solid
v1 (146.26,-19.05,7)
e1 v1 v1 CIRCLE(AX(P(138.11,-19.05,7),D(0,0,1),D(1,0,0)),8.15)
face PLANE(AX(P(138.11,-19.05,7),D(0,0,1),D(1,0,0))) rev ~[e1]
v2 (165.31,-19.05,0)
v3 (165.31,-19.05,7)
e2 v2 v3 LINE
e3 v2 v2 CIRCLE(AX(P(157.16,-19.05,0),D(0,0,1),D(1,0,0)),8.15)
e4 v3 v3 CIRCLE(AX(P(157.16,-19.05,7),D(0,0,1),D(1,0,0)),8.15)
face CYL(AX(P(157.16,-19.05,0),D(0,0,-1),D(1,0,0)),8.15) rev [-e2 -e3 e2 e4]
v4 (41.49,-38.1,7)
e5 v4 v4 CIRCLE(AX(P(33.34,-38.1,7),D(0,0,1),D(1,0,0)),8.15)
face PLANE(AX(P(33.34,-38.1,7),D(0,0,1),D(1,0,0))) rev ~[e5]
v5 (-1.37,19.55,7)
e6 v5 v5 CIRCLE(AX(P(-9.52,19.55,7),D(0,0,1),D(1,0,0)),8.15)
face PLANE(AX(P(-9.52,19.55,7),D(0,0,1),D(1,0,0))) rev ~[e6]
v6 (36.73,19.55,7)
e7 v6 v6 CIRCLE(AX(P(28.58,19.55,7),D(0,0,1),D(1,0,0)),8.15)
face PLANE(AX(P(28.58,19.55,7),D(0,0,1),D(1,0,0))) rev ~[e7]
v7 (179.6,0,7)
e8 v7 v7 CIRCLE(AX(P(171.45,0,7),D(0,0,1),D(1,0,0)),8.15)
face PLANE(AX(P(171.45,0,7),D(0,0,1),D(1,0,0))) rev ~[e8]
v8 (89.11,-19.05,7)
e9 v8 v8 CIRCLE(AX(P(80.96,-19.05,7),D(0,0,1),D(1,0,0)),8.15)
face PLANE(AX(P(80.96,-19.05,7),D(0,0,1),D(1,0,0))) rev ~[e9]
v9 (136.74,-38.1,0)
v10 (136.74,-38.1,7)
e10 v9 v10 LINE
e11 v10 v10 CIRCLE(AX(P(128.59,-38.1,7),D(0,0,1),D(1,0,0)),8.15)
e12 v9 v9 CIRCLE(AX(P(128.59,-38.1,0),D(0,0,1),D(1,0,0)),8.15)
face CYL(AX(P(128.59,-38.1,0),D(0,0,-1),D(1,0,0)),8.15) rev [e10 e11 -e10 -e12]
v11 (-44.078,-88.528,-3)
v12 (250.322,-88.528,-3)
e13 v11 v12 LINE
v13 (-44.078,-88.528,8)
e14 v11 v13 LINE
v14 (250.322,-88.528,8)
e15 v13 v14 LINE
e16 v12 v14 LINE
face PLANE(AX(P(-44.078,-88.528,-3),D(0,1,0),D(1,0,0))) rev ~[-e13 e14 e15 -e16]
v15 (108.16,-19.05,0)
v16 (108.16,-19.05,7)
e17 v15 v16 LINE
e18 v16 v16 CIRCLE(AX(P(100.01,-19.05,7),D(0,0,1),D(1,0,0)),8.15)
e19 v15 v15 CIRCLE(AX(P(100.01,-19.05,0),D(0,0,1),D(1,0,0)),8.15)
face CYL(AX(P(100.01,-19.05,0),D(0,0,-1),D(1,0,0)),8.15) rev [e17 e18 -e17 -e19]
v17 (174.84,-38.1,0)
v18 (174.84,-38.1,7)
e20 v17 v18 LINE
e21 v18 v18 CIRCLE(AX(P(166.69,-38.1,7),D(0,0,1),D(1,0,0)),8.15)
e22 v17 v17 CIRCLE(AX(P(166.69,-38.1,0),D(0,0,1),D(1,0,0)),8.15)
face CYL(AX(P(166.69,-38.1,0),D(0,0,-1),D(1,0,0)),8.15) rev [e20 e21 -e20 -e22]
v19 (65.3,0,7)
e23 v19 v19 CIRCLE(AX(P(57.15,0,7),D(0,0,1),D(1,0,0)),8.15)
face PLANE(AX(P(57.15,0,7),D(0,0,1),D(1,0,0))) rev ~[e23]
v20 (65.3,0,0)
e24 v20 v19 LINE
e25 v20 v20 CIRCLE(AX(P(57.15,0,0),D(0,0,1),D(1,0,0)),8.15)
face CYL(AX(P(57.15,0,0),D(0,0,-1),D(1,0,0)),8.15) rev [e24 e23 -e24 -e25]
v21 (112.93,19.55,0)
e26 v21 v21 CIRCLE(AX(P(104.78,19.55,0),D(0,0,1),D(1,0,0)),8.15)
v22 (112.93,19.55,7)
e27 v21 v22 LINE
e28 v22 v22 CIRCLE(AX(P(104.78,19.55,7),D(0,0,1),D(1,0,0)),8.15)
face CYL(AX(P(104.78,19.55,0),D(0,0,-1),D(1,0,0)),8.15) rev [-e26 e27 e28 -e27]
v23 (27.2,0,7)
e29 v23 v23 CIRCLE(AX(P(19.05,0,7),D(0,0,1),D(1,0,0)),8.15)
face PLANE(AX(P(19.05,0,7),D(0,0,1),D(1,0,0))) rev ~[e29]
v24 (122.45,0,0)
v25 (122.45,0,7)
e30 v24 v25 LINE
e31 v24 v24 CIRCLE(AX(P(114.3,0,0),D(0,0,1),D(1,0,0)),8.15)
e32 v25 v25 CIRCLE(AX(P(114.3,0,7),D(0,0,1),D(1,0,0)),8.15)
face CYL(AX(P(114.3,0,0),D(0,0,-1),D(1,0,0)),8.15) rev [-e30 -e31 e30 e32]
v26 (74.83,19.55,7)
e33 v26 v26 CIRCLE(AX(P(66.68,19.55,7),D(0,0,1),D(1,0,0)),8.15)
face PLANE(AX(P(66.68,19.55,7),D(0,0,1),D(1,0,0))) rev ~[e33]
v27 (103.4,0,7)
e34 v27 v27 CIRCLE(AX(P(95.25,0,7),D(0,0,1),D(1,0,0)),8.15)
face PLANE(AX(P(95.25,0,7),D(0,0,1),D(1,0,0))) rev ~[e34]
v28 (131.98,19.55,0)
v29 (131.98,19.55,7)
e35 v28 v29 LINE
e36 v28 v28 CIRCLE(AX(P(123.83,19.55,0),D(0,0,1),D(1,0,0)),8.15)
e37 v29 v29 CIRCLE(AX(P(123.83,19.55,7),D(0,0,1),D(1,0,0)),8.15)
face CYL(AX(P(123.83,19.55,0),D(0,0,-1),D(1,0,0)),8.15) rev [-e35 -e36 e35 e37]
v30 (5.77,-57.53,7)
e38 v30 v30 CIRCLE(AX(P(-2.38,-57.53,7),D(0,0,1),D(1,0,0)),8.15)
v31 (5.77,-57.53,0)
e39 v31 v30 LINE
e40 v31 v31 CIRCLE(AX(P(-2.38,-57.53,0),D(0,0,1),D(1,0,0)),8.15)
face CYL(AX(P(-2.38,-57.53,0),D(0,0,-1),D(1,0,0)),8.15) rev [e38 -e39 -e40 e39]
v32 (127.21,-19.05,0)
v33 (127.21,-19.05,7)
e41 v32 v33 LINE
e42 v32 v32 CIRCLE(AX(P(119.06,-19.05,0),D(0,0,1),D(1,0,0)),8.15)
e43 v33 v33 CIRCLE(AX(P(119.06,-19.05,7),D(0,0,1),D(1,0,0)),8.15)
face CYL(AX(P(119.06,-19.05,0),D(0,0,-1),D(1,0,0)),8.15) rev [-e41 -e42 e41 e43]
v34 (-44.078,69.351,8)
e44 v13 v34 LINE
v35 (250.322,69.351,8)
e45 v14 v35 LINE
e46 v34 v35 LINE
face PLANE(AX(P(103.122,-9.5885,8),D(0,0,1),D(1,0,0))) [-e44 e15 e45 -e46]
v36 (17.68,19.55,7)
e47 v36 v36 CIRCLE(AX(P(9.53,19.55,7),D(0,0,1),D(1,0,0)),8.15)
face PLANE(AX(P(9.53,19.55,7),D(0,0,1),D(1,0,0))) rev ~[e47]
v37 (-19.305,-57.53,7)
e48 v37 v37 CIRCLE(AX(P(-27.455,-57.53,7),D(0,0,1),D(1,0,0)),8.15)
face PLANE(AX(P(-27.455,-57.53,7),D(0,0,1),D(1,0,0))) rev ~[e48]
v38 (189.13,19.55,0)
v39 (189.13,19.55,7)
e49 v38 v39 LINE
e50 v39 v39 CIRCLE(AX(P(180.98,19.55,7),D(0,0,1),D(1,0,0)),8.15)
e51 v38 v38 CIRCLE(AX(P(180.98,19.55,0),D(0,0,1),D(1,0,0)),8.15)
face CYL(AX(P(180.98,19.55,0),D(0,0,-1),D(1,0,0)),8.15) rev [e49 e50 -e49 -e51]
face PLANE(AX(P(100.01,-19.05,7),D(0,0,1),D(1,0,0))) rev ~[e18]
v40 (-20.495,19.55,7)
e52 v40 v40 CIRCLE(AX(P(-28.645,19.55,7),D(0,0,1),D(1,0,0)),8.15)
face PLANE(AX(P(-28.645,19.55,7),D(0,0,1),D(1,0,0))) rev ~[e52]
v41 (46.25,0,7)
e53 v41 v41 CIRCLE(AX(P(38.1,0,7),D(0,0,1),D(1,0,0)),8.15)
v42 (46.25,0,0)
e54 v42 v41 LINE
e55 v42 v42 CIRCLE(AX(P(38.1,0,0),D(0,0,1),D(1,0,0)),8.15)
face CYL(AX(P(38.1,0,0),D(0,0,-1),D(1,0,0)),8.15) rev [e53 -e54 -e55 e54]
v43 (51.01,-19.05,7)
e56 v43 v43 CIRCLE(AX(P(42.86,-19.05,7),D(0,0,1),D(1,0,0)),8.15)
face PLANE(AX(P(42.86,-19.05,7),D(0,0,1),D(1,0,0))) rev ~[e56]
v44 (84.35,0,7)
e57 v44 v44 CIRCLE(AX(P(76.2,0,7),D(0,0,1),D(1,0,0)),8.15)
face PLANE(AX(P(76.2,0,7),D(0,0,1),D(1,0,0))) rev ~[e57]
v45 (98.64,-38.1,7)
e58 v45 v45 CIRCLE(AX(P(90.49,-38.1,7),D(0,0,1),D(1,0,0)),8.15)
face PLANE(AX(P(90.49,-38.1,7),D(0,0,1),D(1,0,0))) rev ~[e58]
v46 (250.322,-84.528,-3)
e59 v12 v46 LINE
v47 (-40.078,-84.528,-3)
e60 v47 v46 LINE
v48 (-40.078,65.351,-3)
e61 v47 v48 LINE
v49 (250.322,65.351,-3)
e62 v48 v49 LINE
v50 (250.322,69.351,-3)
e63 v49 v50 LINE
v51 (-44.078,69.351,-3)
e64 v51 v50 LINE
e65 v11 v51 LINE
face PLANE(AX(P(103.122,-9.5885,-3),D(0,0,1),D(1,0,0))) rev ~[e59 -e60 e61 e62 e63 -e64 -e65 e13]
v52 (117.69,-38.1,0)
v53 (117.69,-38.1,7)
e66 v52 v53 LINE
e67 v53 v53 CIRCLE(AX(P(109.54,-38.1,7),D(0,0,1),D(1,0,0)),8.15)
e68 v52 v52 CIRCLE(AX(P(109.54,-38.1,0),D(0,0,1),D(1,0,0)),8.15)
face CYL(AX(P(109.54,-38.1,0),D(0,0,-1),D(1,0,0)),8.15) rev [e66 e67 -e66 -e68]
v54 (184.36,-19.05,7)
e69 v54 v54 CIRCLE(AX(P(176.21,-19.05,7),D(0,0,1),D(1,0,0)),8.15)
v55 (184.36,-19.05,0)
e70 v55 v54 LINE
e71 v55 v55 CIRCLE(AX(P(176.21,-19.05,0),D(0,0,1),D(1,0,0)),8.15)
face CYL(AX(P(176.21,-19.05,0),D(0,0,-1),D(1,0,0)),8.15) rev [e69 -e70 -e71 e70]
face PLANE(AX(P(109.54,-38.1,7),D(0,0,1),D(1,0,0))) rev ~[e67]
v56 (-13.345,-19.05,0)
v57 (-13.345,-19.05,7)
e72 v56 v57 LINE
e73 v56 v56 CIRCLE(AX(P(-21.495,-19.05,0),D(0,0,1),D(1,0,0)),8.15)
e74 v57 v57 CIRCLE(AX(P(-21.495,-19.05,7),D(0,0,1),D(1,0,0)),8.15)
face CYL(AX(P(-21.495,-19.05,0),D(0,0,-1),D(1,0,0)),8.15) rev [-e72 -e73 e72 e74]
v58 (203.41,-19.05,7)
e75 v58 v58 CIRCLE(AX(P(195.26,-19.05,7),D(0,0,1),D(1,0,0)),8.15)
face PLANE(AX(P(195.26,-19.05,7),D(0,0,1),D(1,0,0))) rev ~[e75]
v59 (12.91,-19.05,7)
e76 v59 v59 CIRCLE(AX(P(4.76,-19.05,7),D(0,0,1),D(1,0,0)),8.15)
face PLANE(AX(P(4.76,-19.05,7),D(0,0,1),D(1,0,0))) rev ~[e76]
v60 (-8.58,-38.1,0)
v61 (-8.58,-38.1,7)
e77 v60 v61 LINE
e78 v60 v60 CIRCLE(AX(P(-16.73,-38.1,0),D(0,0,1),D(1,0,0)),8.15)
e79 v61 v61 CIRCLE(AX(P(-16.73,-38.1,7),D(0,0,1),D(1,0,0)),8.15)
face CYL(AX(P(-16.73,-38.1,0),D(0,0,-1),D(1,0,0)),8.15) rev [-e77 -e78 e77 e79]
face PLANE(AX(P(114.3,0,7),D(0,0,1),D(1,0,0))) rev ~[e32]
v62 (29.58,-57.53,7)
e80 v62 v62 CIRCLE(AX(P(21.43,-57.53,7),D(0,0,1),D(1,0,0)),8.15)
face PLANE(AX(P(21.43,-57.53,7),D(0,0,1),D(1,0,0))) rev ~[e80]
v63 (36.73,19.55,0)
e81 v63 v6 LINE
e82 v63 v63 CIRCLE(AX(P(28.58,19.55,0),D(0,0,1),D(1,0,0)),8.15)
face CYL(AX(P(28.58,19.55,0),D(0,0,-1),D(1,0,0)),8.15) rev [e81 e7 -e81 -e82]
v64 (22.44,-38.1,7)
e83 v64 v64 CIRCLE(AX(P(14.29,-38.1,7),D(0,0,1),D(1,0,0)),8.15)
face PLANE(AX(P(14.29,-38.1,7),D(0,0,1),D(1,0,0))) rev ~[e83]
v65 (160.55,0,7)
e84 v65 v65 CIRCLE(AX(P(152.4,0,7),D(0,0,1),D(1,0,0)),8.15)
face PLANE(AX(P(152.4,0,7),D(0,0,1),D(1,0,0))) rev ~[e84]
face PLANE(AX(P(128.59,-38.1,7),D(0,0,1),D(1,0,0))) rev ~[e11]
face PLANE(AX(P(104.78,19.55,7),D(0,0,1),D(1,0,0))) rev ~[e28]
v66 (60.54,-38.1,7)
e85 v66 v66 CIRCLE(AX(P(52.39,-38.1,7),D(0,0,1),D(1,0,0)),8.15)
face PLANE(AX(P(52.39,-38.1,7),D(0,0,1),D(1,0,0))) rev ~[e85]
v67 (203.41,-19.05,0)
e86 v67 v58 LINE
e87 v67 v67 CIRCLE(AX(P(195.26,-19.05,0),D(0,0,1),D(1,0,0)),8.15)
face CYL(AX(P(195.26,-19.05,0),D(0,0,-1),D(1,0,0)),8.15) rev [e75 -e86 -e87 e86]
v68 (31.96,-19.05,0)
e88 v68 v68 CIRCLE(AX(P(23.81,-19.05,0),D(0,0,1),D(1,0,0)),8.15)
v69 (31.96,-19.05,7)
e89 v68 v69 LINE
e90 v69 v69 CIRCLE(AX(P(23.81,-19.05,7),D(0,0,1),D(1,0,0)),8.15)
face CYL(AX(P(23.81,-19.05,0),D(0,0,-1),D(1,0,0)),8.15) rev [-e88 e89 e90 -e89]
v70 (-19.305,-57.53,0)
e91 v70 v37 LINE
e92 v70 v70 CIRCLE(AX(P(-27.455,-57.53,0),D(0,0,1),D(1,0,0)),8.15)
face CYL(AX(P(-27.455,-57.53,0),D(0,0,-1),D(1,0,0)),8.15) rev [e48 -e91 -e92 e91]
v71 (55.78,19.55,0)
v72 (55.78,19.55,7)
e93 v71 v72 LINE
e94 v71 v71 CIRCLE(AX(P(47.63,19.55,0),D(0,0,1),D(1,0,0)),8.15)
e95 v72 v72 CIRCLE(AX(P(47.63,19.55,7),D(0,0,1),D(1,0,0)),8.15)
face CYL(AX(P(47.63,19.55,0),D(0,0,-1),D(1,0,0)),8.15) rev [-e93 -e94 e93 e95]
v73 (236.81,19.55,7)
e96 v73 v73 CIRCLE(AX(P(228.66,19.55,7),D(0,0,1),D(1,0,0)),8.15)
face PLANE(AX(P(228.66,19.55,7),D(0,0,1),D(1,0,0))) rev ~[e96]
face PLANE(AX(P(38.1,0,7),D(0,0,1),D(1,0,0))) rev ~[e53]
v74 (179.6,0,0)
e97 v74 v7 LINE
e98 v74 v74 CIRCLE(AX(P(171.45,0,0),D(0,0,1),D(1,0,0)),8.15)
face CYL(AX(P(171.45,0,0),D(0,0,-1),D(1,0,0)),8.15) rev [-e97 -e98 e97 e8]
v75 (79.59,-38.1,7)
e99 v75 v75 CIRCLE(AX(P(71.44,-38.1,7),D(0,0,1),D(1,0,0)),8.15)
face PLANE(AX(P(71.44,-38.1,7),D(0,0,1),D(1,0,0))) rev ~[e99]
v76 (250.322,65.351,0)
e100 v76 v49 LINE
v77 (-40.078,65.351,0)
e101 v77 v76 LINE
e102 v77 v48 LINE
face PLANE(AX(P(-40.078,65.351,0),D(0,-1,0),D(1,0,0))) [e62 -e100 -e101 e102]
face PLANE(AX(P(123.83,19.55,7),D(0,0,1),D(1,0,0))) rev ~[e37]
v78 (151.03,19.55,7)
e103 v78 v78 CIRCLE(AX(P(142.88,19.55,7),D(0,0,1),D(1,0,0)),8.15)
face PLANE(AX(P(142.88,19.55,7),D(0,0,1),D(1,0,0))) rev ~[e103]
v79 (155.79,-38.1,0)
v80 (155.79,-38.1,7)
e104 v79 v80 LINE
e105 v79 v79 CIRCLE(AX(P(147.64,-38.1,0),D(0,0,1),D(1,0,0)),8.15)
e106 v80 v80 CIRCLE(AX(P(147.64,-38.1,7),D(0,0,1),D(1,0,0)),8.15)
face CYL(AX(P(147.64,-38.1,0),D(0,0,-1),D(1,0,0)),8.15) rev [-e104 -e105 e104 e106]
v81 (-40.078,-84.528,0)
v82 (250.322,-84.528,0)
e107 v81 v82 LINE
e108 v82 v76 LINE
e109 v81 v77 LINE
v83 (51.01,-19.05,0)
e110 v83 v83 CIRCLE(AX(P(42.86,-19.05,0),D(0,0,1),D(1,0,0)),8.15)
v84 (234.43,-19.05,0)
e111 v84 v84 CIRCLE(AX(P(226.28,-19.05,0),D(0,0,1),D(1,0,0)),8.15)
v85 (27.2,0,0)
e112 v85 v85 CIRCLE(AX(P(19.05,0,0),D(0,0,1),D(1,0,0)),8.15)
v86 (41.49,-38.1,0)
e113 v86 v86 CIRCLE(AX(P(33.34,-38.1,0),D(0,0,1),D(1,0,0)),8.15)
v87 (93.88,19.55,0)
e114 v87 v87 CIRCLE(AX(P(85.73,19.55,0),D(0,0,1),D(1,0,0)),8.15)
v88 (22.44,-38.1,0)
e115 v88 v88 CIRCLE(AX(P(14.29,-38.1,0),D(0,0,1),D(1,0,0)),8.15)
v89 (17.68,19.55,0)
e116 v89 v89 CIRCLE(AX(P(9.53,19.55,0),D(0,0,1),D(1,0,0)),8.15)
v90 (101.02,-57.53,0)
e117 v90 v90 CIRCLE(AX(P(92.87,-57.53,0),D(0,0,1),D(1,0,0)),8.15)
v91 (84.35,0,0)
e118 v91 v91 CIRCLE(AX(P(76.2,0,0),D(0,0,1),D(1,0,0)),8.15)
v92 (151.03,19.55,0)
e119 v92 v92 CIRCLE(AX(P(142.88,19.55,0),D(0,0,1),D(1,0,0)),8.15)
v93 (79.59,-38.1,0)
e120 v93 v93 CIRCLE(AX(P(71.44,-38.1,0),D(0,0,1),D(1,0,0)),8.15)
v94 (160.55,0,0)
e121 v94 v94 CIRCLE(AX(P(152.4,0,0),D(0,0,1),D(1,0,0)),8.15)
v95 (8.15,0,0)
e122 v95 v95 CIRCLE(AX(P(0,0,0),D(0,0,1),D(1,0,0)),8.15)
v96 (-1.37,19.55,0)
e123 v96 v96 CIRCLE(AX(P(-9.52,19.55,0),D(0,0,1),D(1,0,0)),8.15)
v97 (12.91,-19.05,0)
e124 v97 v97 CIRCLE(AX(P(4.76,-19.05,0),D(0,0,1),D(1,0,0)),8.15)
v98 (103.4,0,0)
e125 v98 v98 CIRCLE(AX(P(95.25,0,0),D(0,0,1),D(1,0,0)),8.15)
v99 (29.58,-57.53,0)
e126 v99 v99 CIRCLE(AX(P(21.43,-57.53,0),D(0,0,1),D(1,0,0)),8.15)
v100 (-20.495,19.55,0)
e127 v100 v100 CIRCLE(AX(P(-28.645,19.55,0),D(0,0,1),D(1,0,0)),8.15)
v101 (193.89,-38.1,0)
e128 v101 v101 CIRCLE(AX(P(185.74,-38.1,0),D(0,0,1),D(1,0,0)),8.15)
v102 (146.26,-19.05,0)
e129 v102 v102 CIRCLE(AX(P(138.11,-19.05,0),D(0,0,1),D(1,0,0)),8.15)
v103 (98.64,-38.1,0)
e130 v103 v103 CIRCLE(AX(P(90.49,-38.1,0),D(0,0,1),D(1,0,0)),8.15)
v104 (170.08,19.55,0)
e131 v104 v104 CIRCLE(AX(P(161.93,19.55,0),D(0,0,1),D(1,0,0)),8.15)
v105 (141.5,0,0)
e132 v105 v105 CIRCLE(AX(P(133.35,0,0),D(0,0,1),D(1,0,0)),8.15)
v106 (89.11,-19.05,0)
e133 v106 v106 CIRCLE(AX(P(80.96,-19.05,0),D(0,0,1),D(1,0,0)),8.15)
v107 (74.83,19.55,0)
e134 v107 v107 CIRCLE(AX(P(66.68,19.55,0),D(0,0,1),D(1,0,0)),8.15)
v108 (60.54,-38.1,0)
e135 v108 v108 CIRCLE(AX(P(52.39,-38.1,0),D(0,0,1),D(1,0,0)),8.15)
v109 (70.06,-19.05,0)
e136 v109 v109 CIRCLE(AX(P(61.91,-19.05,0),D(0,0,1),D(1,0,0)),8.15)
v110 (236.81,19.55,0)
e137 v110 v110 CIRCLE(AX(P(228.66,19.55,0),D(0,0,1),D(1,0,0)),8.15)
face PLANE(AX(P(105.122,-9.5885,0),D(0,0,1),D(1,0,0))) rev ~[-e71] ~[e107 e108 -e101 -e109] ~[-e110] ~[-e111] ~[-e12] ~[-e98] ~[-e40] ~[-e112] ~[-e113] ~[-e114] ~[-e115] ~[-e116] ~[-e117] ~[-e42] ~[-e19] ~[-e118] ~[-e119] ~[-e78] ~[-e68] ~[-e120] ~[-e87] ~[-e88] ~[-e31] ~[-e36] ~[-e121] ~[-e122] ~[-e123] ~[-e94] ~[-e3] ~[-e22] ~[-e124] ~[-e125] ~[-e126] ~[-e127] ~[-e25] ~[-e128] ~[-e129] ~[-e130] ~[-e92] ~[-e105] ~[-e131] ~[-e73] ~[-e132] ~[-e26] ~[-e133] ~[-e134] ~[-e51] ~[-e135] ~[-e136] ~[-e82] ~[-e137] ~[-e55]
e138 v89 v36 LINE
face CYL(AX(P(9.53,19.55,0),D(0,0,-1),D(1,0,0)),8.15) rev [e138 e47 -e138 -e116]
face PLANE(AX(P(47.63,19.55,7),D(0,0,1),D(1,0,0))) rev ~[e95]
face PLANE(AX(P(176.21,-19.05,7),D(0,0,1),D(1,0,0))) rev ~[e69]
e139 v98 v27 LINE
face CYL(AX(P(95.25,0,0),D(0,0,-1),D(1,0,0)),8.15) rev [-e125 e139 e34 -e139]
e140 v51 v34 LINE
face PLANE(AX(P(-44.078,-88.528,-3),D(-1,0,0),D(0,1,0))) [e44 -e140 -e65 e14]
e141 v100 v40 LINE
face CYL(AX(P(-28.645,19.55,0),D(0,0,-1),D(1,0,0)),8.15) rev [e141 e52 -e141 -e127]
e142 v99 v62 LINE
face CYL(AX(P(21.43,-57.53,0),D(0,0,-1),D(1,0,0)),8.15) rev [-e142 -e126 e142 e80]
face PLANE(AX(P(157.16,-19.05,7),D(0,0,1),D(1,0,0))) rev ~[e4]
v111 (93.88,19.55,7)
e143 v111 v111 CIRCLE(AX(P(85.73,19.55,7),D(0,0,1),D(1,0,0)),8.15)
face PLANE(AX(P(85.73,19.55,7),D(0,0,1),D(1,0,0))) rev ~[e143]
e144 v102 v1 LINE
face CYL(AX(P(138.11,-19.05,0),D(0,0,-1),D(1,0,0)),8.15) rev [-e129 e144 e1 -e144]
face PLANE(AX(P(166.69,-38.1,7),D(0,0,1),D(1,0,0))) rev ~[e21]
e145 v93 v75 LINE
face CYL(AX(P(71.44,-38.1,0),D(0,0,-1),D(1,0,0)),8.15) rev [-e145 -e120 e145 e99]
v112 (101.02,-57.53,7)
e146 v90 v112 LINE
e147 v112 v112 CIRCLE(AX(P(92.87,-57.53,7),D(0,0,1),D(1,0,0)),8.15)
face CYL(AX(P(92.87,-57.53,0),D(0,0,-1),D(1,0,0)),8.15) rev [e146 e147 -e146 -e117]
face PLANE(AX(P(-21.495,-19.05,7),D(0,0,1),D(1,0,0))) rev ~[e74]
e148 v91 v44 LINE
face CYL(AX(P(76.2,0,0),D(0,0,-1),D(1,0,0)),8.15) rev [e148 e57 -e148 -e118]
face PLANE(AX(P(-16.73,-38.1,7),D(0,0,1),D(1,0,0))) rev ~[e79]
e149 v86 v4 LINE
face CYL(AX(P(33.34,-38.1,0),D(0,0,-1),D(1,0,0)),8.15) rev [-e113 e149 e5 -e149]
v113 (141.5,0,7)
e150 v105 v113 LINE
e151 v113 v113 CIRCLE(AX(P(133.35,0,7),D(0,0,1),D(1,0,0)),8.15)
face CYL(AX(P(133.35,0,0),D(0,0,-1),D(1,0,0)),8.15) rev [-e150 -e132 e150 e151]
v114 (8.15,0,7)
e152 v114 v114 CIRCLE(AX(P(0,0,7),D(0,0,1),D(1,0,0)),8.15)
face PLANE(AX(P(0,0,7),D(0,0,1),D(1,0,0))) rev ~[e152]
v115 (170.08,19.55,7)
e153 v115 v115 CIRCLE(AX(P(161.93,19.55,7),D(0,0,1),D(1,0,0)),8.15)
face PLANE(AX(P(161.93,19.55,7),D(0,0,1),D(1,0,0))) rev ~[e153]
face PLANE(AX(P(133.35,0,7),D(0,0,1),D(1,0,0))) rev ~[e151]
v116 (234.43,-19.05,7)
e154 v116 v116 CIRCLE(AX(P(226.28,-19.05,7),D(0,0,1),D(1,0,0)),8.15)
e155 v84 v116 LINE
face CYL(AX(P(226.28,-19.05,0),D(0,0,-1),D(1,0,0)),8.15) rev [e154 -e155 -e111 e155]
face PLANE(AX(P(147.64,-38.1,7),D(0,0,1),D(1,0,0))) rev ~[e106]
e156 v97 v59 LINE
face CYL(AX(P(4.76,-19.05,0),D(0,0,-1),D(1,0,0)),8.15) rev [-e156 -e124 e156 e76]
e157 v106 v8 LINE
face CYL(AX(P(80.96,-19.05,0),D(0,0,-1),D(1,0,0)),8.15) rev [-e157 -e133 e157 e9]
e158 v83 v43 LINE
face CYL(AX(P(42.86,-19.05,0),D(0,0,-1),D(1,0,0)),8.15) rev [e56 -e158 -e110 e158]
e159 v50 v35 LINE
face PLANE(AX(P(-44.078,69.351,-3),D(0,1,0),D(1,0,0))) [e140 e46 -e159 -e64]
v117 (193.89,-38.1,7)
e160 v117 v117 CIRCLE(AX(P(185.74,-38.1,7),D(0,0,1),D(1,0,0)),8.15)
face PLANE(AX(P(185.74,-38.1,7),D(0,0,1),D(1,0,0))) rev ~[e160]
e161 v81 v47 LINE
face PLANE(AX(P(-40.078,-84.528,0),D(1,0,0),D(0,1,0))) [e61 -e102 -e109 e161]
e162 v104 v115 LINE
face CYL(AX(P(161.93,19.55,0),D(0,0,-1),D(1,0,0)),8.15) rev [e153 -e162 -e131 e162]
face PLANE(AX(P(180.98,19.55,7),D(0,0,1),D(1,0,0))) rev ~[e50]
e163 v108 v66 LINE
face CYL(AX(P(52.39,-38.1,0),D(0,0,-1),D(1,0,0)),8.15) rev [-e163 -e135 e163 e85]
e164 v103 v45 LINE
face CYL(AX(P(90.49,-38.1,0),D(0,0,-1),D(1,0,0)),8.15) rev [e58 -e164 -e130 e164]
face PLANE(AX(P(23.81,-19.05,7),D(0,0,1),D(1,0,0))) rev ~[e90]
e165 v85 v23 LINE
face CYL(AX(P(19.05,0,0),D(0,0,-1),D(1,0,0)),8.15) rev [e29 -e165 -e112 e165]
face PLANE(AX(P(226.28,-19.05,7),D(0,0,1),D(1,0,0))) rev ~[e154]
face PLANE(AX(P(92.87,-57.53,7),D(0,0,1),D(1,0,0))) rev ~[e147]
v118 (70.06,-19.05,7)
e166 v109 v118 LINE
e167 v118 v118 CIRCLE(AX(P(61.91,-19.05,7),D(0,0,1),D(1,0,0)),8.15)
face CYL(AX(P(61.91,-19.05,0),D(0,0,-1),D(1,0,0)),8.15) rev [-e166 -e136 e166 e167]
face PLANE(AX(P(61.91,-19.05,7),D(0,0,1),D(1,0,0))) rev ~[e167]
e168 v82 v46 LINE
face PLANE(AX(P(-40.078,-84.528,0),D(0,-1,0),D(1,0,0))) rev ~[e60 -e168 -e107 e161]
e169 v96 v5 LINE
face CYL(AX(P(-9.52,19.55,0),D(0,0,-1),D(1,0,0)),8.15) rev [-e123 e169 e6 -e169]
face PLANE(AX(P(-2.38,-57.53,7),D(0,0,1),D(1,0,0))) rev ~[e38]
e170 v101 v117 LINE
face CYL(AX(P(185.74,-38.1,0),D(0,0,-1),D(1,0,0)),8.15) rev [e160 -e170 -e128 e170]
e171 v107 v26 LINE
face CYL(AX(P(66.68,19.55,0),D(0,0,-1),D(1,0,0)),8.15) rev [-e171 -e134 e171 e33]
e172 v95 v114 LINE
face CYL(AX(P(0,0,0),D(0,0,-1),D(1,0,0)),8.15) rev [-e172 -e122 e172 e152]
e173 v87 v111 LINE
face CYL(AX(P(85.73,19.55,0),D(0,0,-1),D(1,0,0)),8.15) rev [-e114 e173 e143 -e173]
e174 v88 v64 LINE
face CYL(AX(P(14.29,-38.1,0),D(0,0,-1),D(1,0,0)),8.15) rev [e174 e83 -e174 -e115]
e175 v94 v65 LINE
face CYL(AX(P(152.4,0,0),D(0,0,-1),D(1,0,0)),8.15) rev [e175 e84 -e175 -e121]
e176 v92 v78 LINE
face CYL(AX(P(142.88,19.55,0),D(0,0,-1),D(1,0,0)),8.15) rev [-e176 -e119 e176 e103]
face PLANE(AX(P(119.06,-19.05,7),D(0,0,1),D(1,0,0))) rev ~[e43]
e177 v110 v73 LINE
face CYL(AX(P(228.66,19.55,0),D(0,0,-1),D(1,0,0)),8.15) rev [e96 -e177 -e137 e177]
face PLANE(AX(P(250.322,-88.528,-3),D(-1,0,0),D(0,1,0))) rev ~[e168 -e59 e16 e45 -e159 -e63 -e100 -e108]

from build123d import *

# Parameters (mm, degrees)
EXTRUDE_2_DEPTH      = 8
EXTRUDE_2_DEPTH_BACK = 3
SKETCH_3_W           = 294.4
SKETCH_3_H           = 157.879
SKETCH_2_W           = 290.4
SKETCH_2_H           = 149.879
CUT_EXTRUDE_2_DEPTH  = 3
SKETCH_5_R           = 8.15
CUT_EXTRUDE_3_DEPTH  = 7


with BuildPart() as part:
    # 草图3 → 凸台-拉伸2 (new, two sides: drawn at the far end of the back side and taken through both)
    with BuildSketch(Plane.XY.offset(-EXTRUDE_2_DEPTH_BACK)):
        with Locations((103.122, -9.5885)):
            Rectangle(SKETCH_3_W, SKETCH_3_H)
    extrude(amount=EXTRUDE_2_DEPTH + EXTRUDE_2_DEPTH_BACK)

    # 草图2 → 切除-拉伸2 (cut)
    with BuildSketch(Plane.XY):
        with Locations((105.122, -9.5885)):
            Rectangle(SKETCH_2_W, SKETCH_2_H)
    extrude(amount=-CUT_EXTRUDE_2_DEPTH, mode=Mode.SUBTRACT)

    # 草图5 → 切除-拉伸3 (cut)
    with BuildSketch(Plane.XY):
        with Locations((-28.645, 19.55)):
            Circle(SKETCH_5_R)
        with Locations((-9.52, 19.55)):
            Circle(SKETCH_5_R)
        with Locations((9.53, 19.55)):
            Circle(SKETCH_5_R)
        with Locations((28.58, 19.55)):
            Circle(SKETCH_5_R)
        with Locations((47.63, 19.55)):
            Circle(SKETCH_5_R)
        with Locations((66.68, 19.55)):
            Circle(SKETCH_5_R)
        with Locations((85.73, 19.55)):
            Circle(SKETCH_5_R)
        with Locations((104.78, 19.55)):
            Circle(SKETCH_5_R)
        with Locations((123.83, 19.55)):
            Circle(SKETCH_5_R)
        with Locations((142.88, 19.55)):
            Circle(SKETCH_5_R)
        with Locations((161.93, 19.55)):
            Circle(SKETCH_5_R)
        with Locations((180.98, 19.55)):
            Circle(SKETCH_5_R)
        with Locations((228.66, 19.55)):
            Circle(SKETCH_5_R)
        with Locations((171.45, 0)):
            Circle(SKETCH_5_R)
        with Locations((152.4, 0)):
            Circle(SKETCH_5_R)
        with Locations((133.35, 0)):
            Circle(SKETCH_5_R)
        with Locations((114.3, 0)):
            Circle(SKETCH_5_R)
        with Locations((95.25, 0)):
            Circle(SKETCH_5_R)
        with Locations((76.2, 0)):
            Circle(SKETCH_5_R)
        with Locations((57.15, 0)):
            Circle(SKETCH_5_R)
        with Locations((38.1, 0)):
            Circle(SKETCH_5_R)
        with Locations((19.05, 0)):
            Circle(SKETCH_5_R)
        Circle(SKETCH_5_R)
        with Locations((-21.495, -19.05)):
            Circle(SKETCH_5_R)
        with Locations((4.76, -19.05)):
            Circle(SKETCH_5_R)
        with Locations((23.81, -19.05)):
            Circle(SKETCH_5_R)
        with Locations((42.86, -19.05)):
            Circle(SKETCH_5_R)
        with Locations((61.91, -19.05)):
            Circle(SKETCH_5_R)
        with Locations((80.96, -19.05)):
            Circle(SKETCH_5_R)
        with Locations((100.01, -19.05)):
            Circle(SKETCH_5_R)
        with Locations((119.06, -19.05)):
            Circle(SKETCH_5_R)
        with Locations((138.11, -19.05)):
            Circle(SKETCH_5_R)
        with Locations((157.16, -19.05)):
            Circle(SKETCH_5_R)
        with Locations((176.21, -19.05)):
            Circle(SKETCH_5_R)
        with Locations((195.26, -19.05)):
            Circle(SKETCH_5_R)
        with Locations((226.28, -19.05)):
            Circle(SKETCH_5_R)
        with Locations((185.74, -38.1)):
            Circle(SKETCH_5_R)
        with Locations((166.69, -38.1)):
            Circle(SKETCH_5_R)
        with Locations((147.64, -38.1)):
            Circle(SKETCH_5_R)
        with Locations((128.59, -38.1)):
            Circle(SKETCH_5_R)
        with Locations((109.54, -38.1)):
            Circle(SKETCH_5_R)
        with Locations((90.49, -38.1)):
            Circle(SKETCH_5_R)
        with Locations((71.44, -38.1)):
            Circle(SKETCH_5_R)
        with Locations((52.39, -38.1)):
            Circle(SKETCH_5_R)
        with Locations((33.34, -38.1)):
            Circle(SKETCH_5_R)
        with Locations((14.29, -38.1)):
            Circle(SKETCH_5_R)
        with Locations((-16.73, -38.1)):
            Circle(SKETCH_5_R)
        with Locations((-27.455, -57.53)):
            Circle(SKETCH_5_R)
        with Locations((-2.38, -57.53)):
            Circle(SKETCH_5_R)
        with Locations((21.43, -57.53)):
            Circle(SKETCH_5_R)
        with Locations((92.87, -57.53)):
            Circle(SKETCH_5_R)
    extrude(amount=CUT_EXTRUDE_3_DEPTH, mode=Mode.SUBTRACT)


solid = part.part
